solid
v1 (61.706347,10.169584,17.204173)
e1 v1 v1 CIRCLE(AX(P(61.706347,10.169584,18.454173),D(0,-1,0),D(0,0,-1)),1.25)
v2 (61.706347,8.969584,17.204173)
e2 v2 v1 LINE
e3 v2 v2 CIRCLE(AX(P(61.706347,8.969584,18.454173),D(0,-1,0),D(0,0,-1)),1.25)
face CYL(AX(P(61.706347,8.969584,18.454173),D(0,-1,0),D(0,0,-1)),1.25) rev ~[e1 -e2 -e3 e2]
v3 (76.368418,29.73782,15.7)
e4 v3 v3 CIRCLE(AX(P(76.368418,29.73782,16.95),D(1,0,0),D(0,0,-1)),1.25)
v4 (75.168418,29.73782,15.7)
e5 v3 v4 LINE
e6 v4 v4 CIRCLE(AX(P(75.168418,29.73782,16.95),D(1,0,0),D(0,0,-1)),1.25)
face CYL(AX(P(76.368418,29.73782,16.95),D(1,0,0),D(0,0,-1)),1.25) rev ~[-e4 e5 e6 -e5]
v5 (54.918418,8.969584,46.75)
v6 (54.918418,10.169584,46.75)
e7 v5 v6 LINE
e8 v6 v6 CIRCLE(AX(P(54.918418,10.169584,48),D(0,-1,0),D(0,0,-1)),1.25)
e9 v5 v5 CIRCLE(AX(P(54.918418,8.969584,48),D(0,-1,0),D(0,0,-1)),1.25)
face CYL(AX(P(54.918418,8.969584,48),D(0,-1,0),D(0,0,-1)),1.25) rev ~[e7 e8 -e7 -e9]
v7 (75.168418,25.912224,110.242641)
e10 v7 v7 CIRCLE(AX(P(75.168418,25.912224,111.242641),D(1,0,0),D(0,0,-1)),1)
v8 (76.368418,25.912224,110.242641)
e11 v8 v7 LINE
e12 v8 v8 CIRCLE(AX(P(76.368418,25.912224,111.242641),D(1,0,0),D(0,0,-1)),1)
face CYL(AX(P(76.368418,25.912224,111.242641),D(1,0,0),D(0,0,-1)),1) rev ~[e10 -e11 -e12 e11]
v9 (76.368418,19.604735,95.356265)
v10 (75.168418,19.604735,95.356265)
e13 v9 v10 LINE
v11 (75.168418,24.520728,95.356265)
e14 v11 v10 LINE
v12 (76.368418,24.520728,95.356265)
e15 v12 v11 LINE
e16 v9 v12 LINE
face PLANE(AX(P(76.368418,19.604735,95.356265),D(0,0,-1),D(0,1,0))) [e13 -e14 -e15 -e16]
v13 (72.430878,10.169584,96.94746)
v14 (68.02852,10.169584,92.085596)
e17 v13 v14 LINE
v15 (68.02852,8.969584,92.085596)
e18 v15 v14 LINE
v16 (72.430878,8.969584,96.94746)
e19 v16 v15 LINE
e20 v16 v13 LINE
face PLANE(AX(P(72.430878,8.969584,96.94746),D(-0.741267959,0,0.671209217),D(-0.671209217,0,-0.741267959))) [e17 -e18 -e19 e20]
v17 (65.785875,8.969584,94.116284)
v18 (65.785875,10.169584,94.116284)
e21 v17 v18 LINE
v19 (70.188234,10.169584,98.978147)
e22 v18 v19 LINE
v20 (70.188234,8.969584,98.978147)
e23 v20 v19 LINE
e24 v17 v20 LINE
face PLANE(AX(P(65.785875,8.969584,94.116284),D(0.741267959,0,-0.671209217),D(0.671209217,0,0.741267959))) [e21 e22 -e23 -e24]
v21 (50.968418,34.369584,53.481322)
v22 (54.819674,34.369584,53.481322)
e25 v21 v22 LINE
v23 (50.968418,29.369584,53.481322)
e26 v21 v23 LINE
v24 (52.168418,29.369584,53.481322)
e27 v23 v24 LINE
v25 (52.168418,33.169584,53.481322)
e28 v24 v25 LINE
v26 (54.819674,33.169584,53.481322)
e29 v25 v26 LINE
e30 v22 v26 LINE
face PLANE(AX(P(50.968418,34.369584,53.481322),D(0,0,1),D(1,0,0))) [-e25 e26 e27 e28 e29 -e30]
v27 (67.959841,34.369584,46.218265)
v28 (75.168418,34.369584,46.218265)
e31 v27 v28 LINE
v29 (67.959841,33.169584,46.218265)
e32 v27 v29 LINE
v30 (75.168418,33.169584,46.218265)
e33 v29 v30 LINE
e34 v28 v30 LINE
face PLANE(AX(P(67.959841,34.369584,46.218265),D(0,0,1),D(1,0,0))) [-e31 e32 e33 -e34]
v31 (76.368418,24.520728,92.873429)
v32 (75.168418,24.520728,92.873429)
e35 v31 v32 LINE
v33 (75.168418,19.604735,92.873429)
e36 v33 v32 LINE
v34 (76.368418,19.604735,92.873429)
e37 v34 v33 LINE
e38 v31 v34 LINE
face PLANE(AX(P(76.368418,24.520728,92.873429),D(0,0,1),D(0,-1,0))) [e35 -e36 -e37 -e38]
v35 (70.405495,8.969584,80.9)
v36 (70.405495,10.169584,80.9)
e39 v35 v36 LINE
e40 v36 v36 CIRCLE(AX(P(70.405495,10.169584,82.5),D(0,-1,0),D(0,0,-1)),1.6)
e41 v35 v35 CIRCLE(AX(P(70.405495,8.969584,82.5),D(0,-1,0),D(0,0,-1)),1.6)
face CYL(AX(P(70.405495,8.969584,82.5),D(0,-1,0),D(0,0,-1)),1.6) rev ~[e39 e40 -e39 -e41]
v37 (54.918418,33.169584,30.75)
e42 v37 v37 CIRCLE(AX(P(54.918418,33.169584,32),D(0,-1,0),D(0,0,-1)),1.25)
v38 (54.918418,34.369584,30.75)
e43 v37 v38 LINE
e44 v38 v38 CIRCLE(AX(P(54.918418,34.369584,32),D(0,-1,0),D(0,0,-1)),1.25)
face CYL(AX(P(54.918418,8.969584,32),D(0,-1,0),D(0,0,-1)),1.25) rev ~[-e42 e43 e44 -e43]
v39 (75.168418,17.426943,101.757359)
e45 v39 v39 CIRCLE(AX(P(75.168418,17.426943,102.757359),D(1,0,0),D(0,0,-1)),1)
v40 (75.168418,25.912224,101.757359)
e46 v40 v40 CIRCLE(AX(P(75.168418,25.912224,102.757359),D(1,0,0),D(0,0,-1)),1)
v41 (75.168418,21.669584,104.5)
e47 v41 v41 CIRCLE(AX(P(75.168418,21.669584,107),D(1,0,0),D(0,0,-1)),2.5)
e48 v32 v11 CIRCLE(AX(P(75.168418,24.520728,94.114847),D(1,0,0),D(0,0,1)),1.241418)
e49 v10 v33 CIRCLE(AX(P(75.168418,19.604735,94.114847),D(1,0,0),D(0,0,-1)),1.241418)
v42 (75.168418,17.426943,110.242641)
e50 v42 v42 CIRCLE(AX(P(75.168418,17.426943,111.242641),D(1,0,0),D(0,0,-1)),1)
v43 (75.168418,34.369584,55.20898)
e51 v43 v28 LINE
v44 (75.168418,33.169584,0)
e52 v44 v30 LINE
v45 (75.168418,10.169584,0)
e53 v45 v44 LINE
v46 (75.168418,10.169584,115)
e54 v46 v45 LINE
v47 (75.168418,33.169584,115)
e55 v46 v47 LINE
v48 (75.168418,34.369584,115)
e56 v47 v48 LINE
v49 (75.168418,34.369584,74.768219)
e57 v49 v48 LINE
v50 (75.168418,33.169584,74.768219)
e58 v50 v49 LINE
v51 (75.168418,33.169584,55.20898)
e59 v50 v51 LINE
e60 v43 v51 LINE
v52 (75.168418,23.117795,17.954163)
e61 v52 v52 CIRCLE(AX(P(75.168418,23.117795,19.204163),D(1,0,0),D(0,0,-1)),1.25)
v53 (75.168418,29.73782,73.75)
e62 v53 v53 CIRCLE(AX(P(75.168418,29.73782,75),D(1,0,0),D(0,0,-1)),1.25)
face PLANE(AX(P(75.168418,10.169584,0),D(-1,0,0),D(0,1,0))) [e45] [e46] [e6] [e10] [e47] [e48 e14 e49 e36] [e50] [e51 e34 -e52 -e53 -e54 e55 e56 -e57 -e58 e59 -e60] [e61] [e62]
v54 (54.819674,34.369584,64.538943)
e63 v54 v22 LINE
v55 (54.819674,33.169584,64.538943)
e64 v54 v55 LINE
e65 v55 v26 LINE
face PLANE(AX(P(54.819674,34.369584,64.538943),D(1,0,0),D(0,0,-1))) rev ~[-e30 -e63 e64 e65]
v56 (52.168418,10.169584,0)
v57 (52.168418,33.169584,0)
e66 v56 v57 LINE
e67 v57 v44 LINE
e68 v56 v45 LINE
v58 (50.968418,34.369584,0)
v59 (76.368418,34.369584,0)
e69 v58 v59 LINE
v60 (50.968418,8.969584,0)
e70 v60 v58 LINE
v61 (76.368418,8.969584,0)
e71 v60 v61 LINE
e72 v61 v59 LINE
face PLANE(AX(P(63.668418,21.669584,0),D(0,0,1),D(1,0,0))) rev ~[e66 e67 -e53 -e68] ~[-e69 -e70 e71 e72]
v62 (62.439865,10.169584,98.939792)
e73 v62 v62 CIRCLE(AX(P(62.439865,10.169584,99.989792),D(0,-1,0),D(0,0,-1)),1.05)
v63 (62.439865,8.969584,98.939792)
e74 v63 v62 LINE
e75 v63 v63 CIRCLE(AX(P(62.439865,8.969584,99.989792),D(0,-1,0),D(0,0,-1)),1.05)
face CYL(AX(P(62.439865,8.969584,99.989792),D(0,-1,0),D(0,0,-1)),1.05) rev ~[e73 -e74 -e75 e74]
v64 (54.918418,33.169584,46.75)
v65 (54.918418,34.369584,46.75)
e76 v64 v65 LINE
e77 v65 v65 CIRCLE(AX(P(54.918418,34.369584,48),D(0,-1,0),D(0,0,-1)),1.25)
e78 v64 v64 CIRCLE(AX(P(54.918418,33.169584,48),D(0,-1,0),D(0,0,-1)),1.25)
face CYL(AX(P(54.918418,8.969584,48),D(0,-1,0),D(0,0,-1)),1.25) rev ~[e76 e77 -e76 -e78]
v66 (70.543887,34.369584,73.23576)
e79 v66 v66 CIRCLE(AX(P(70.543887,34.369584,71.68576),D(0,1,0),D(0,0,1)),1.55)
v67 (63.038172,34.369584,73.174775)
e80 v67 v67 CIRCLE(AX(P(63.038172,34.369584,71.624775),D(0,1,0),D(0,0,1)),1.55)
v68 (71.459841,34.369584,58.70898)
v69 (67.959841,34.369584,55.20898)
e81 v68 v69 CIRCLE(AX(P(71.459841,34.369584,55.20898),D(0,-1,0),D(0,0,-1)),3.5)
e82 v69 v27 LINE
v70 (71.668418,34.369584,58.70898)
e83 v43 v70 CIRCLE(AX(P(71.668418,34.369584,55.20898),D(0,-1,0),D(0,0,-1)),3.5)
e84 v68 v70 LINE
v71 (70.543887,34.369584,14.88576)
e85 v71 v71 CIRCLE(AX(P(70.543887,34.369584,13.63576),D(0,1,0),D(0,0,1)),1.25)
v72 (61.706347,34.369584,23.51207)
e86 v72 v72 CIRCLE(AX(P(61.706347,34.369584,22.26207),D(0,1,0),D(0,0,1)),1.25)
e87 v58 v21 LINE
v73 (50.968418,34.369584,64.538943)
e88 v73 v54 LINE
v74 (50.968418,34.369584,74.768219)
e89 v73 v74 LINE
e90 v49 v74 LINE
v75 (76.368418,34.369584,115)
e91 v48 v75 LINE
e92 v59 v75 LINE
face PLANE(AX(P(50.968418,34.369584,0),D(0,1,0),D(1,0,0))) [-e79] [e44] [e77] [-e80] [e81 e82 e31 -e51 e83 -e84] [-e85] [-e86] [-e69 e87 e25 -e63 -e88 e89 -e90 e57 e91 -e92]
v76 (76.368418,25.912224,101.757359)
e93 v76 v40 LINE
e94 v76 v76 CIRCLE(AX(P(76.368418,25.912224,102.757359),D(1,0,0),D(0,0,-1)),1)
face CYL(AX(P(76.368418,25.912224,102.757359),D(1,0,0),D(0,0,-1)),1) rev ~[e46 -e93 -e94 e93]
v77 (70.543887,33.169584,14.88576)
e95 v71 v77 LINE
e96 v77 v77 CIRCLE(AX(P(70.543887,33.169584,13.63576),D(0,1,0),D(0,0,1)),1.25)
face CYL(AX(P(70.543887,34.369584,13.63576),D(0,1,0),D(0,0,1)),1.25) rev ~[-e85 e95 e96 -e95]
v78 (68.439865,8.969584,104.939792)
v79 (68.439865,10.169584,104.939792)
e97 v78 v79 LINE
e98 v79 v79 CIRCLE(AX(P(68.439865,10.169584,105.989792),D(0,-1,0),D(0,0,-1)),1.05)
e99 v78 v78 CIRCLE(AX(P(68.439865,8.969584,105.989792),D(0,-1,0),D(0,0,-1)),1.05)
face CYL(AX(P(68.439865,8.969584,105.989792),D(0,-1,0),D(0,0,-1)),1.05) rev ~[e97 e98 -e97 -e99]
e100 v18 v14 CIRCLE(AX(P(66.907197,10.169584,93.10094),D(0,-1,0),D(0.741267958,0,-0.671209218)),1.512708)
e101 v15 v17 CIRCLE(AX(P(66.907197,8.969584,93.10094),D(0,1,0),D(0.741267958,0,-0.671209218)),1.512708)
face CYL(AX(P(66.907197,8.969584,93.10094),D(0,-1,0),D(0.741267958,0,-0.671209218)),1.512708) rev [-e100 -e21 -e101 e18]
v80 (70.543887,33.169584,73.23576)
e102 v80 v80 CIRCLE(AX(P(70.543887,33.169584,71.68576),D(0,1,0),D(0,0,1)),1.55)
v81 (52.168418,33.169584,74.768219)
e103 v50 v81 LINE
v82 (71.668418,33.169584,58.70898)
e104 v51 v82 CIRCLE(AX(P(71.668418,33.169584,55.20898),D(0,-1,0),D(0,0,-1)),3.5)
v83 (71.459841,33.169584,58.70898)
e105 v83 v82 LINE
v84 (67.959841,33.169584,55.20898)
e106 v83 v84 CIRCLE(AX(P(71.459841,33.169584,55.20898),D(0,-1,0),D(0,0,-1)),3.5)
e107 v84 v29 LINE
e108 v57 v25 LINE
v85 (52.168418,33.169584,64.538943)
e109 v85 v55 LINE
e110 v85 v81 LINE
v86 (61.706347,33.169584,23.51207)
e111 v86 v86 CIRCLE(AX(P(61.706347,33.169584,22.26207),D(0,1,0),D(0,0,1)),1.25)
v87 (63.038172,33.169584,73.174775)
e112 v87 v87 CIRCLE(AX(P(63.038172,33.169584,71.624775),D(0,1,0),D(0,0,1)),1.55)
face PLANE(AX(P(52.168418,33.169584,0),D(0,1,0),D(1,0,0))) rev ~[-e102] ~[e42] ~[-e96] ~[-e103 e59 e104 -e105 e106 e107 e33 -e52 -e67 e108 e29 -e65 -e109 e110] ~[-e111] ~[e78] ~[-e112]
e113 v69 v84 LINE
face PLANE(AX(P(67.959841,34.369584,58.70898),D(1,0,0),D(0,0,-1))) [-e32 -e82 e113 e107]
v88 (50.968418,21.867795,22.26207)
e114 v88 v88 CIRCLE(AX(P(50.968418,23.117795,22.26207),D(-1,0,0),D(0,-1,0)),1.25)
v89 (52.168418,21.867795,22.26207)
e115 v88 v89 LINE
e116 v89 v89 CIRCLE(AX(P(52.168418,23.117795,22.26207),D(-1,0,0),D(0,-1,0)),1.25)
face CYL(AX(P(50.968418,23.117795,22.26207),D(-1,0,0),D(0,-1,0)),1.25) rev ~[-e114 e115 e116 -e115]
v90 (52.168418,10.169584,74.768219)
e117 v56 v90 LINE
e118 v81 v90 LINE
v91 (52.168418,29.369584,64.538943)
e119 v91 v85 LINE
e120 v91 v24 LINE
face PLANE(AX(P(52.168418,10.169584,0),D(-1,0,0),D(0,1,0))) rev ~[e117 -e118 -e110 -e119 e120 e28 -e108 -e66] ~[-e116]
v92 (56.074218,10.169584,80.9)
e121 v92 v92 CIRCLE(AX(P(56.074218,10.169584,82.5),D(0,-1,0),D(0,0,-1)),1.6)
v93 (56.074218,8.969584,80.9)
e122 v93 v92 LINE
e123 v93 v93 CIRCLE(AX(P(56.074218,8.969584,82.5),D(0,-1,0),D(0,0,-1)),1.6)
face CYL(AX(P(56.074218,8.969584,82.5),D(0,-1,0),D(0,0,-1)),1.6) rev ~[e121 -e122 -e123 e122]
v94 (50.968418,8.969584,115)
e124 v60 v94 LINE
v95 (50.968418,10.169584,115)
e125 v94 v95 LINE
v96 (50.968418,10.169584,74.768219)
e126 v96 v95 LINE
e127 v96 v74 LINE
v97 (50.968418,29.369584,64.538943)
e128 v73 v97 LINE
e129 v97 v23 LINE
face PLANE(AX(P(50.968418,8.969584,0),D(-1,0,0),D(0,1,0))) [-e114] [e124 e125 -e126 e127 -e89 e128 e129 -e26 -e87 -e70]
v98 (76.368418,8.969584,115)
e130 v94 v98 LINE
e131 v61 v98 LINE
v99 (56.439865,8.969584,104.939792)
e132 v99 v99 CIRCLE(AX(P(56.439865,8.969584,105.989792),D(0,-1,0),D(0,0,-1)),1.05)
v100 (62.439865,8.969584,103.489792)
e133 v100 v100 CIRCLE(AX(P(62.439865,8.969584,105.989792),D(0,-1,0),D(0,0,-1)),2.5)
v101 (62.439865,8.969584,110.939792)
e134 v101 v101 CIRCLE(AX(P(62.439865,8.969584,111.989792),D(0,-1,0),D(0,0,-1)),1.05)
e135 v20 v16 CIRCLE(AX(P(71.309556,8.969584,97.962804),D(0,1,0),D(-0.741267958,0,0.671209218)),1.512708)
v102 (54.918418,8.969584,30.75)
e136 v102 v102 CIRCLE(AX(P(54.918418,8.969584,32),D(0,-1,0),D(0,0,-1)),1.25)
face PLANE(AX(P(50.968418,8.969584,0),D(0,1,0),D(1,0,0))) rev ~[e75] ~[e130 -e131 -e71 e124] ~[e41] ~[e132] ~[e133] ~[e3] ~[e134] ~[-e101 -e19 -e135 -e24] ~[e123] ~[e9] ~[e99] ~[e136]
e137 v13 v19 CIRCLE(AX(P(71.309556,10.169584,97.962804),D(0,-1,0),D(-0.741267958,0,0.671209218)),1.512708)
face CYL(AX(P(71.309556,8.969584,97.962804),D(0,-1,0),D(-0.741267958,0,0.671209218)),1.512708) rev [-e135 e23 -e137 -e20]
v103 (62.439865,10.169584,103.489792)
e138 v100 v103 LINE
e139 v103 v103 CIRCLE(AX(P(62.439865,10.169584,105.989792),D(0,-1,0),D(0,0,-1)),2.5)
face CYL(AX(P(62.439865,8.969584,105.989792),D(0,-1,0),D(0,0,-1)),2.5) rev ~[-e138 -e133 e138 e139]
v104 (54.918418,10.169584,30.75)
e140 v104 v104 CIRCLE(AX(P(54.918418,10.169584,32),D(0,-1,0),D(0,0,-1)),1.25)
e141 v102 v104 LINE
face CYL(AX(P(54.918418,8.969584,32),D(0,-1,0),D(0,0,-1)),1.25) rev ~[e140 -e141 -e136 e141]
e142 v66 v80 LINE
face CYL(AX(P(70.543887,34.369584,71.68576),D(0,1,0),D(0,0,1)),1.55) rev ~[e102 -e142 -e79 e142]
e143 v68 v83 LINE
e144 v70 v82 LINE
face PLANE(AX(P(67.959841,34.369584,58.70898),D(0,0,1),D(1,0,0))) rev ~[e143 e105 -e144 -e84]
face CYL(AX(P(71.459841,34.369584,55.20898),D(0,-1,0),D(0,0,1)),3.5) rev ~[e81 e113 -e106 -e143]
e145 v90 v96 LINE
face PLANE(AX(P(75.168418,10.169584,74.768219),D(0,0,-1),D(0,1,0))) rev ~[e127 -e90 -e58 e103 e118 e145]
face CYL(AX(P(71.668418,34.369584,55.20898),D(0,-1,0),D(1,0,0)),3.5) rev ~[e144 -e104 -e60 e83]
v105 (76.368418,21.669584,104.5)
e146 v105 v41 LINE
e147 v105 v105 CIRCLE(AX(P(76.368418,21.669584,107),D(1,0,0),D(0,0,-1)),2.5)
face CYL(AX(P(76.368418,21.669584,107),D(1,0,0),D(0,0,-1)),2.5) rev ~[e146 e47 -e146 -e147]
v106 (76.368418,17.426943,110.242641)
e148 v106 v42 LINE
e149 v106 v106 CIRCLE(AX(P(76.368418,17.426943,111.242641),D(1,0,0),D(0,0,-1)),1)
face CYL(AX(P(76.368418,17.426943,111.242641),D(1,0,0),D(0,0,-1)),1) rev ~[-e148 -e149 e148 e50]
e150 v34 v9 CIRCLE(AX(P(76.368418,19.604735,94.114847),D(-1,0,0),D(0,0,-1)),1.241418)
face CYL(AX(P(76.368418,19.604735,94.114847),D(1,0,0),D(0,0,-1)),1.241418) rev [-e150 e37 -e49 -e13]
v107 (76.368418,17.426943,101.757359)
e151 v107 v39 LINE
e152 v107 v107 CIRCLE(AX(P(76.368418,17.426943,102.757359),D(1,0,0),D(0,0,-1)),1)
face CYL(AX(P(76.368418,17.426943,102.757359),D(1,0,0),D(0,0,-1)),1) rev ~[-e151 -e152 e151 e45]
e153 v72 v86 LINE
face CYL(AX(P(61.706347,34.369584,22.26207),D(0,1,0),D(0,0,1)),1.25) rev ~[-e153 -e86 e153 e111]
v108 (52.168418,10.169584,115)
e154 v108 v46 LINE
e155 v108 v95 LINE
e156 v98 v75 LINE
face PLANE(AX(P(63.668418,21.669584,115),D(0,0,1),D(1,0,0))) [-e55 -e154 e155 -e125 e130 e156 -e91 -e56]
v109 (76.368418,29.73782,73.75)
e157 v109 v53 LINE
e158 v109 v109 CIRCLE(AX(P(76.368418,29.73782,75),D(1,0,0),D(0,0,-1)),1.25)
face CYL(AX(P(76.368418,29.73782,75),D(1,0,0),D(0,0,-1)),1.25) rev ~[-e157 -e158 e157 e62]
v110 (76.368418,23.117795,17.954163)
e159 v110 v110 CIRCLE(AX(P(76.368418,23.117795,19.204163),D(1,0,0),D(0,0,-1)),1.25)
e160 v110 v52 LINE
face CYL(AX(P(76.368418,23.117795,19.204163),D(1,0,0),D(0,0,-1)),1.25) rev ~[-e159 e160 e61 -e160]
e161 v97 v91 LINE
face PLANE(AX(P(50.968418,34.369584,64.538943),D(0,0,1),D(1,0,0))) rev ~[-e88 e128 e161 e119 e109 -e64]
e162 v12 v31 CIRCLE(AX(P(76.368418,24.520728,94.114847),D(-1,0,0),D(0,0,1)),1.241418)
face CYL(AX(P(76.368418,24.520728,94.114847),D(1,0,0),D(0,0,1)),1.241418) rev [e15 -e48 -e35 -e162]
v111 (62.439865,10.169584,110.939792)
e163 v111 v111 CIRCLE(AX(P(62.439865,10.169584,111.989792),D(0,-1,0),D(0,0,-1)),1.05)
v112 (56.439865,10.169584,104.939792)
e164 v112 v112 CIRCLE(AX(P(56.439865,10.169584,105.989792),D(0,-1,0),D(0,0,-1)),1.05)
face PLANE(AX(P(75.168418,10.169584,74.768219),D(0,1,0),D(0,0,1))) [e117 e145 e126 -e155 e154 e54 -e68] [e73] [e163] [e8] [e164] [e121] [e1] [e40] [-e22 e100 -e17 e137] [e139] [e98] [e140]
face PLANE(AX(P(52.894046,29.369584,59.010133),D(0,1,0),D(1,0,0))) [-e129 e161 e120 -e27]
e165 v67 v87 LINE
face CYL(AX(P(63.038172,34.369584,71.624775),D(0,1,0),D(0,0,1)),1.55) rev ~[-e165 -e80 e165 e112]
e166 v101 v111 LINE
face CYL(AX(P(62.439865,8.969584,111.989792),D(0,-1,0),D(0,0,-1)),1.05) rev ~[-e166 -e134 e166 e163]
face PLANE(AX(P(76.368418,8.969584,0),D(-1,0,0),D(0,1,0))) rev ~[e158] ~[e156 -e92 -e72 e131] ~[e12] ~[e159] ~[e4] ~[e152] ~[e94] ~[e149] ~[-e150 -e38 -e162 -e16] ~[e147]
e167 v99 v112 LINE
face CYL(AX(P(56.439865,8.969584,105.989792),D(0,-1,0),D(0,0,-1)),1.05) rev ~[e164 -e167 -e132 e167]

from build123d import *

# Parameters (mm, degrees)
SKETCH1_W           = 25.4
SKETCH1_H           = 25.4
SKETCH1_W_2         = 23
SKETCH1_H_2         = 23
BOSS_EXTRUDE1_DEPTH = 115
CUT_EXTRUDE1_START  = -24.2
SKETCH2_W           = 40.231781255
SKETCH2_H           = 27.281754711
CUT_EXTRUDE1_DEPTH  = 24.2
SKETCH5_R           = 1
SKETCH5_R_2         = 2.5
SKETCH5_R_3         = 1.25
CUT_EXTRUDE4_DEPTH  = 10
CUT_EXTRUDE2_REACH  = 142.365
SKETCH3_R           = 1.25
SKETCH3_R_2         = 1.05
SKETCH3_R_3         = 2.5
SKETCH6_R           = 1.6
SKETCH6_R_2         = 1.25
CUT_EXTRUDE5_DEPTH  = 8
SKETCH3_3_R         = 1.25
CUT_EXTRUDE9_DEPTH  = 141.364864582
SKETCH10_R          = 1.55
SKETCH10_R_2        = 1.25
SKETCH10_W          = 7.208576747
SKETCH10_H          = 12.490715562
SKETCH10_W_2        = 3.851256807
SKETCH10_H_2        = 11.057621271
CUT_EXTRUDE10_DEPTH = 5
FILLET1_R           = 3.5
SKETCH11_R          = 1.25
CUT_EXTRUDE11_DEPTH = 8


with BuildPart() as part:
    # Sketch1 → Boss-Extrude1 (new body)
    with BuildSketch(Plane.XY):
        with Locations((63.668417616, 21.669583611)):
            Rectangle(SKETCH1_W, SKETCH1_H)
        with Locations((63.668417616, 21.669583611)):
            Rectangle(SKETCH1_W_2, SKETCH1_H_2, mode=Mode.SUBTRACT)
    extrude(amount=BOSS_EXTRUDE1_DEPTH)

    # Sketch2 → Cut-Extrude1 (cut)
    with BuildSketch(Plane.ZY.offset(-50.968417616).offset(CUT_EXTRUDE1_START)):
        with Locations((94.884109373, 23.810460967)):
            Rectangle(SKETCH2_W, SKETCH2_H)
    extrude(amount=CUT_EXTRUDE1_DEPTH, mode=Mode.SUBTRACT)

    # Sketch5 → Cut-Extrude4 (cut)
    with BuildSketch(Plane(origin=(76.368417616, 0, 0), x_dir=(0, 0, -1), z_dir=(1, 0, 0))):
        with Locations((-102.757359313, 25.912224298)):
            Circle(SKETCH5_R)
        with Locations((-111.242640687, 25.912224298)):
            Circle(SKETCH5_R)
        with Locations((-111.242640687, 17.426942923)):
            Circle(SKETCH5_R)
        with Locations((-102.757359313, 17.426942923)):
            Circle(SKETCH5_R)
        with Locations((-107, 21.669583611)):
            Circle(SKETCH5_R_2)
        with Locations((-16.95, 29.737819564)):
            Circle(SKETCH5_R_3)
        with Locations((-75, 29.737819564)):
            Circle(SKETCH5_R_3)
        with Locations((-19.204163056, 23.117794927)):
            Circle(SKETCH5_R_3)
        with BuildLine():
            Line((-95.356264863, 19.604734734), (-95.356264863, 24.520728377))
            ThreePointArc((-95.356264863, 24.520728377), (-94.114846786, 25.762146454), (-92.87342871, 24.520728377))
            Line((-92.87342871, 24.520728377), (-92.87342871, 19.604734734))
            ThreePointArc((-92.87342871, 19.604734734), (-94.114846786, 18.363316658), (-95.356264863, 19.604734734))
        make_face()
    extrude(amount=-CUT_EXTRUDE4_DEPTH, mode=Mode.SUBTRACT)

    # Sketch3 → Cut-Extrude2 (cut, up to next)
    with BuildSketch(Plane.XZ.offset(-8.969583611), mode=Mode.PRIVATE) as cut_extrude2_sk1:
        with Locations(Location((54.918417616, 32, 0), (0, 0, 270))):
            Circle(SKETCH3_R)
    cut_extrude2_tool1 = extrude(cut_extrude2_sk1.sketch, amount=-CUT_EXTRUDE2_REACH, mode=Mode.PRIVATE) & part.part
    # Sketch3 → Cut-Extrude2 (cut, up to next)
    with BuildSketch(Plane.XZ.offset(-8.969583611), mode=Mode.PRIVATE) as cut_extrude2_sk2:
        with Locations(Location((54.918417616, 48, 0), (0, 0, 270))):
            Circle(SKETCH3_R)
    cut_extrude2_tool2 = extrude(cut_extrude2_sk2.sketch, amount=-CUT_EXTRUDE2_REACH, mode=Mode.PRIVATE) & part.part
    # Sketch3 → Cut-Extrude2 (cut, up to next)
    with BuildSketch(Plane.XZ.offset(-8.969583611), mode=Mode.PRIVATE) as cut_extrude2_sk3:
        with Locations(Location((56.439865007, 105.989791795, 0), (0, 0, 270))):
            Circle(SKETCH3_R_2)
    cut_extrude2_tool3 = extrude(cut_extrude2_sk3.sketch, amount=-CUT_EXTRUDE2_REACH, mode=Mode.PRIVATE) & part.part
    # Sketch3 → Cut-Extrude2 (cut, up to next)
    with BuildSketch(Plane.XZ.offset(-8.969583611), mode=Mode.PRIVATE) as cut_extrude2_sk4:
        with Locations(Location((62.439865007, 111.989791795, 0), (0, 0, 270))):
            Circle(SKETCH3_R_2)
    cut_extrude2_tool4 = extrude(cut_extrude2_sk4.sketch, amount=-CUT_EXTRUDE2_REACH, mode=Mode.PRIVATE) & part.part
    # Sketch3 → Cut-Extrude2 (cut, up to next)
    with BuildSketch(Plane.XZ.offset(-8.969583611), mode=Mode.PRIVATE) as cut_extrude2_sk5:
        with Locations(Location((68.439865007, 105.989791795, 0), (0, 0, 270))):
            Circle(SKETCH3_R_2)
    cut_extrude2_tool5 = extrude(cut_extrude2_sk5.sketch, amount=-CUT_EXTRUDE2_REACH, mode=Mode.PRIVATE) & part.part
    # Sketch3 → Cut-Extrude2 (cut, up to next)
    with BuildSketch(Plane.XZ.offset(-8.969583611), mode=Mode.PRIVATE) as cut_extrude2_sk6:
        with Locations(Location((62.439865007, 99.989791795, 0), (0, 0, 270))):
            Circle(SKETCH3_R_2)
    cut_extrude2_tool6 = extrude(cut_extrude2_sk6.sketch, amount=-CUT_EXTRUDE2_REACH, mode=Mode.PRIVATE) & part.part
    # Sketch3 → Cut-Extrude2 (cut, up to next)
    with BuildSketch(Plane.XZ.offset(-8.969583611), mode=Mode.PRIVATE) as cut_extrude2_sk7:
        with Locations(Location((62.439865007, 105.989791795, 0), (0, 0, 270))):
            Circle(SKETCH3_R_3)
    cut_extrude2_tool7 = extrude(cut_extrude2_sk7.sketch, amount=-CUT_EXTRUDE2_REACH, mode=Mode.PRIVATE) & part.part
    # Sketch3 → Cut-Extrude2 (cut, up to next)
    with BuildSketch(Plane.XZ.offset(-8.969583611), mode=Mode.PRIVATE) as cut_extrude2_sk8:
        with BuildLine():
            Line((65.785875381, 94.116283864), (70.188234194, 98.978147268))
            ThreePointArc((70.188234194, 98.978147268), (72.324899993, 99.084125699), (72.430878425, 96.947459901))
            Line((72.430878425, 96.947459901), (68.028519611, 92.085596497))
            ThreePointArc((68.028519611, 92.085596497), (65.891853813, 91.979618066), (65.785875381, 94.116283864))
        make_face()
    cut_extrude2_tool8 = extrude(cut_extrude2_sk8.sketch, amount=-CUT_EXTRUDE2_REACH, mode=Mode.PRIVATE) & part.part
    add(cut_extrude2_tool1.solids().sort_by_distance((54.918418, 8.969584, 32))[0], mode=Mode.SUBTRACT)
    add(cut_extrude2_tool2.solids().sort_by_distance((54.918418, 8.969584, 48))[0], mode=Mode.SUBTRACT)
    add(cut_extrude2_tool3.solids().sort_by_distance((56.439865, 8.969584, 105.989792))[0], mode=Mode.SUBTRACT)
    add(cut_extrude2_tool4.solids().sort_by_distance((62.439865, 8.969584, 111.989792))[0], mode=Mode.SUBTRACT)
    add(cut_extrude2_tool5.solids().sort_by_distance((68.439865, 8.969584, 105.989792))[0], mode=Mode.SUBTRACT)
    add(cut_extrude2_tool6.solids().sort_by_distance((62.439865, 8.969584, 99.989792))[0], mode=Mode.SUBTRACT)
    add(cut_extrude2_tool7.solids().sort_by_distance((62.439865, 8.969584, 105.989792))[0], mode=Mode.SUBTRACT)
    add(cut_extrude2_tool8.solids().sort_by_distance((69.108377, 8.969584, 95.531872))[0], mode=Mode.SUBTRACT)

    # Sketch6 → Cut-Extrude5 (cut)
    with BuildSketch(Plane(origin=(0, 8.969583611, 0), x_dir=(-1, 0, 0), z_dir=(0, -1, 0))):
        with Locations(Location((-70.405494882, -82.5, 0), (0, 0, 90))):
            Circle(SKETCH6_R)
        with Locations(Location((-56.074218123, -82.5, 0), (0, 0, 90))):
            Circle(SKETCH6_R)
        with Locations(Location((-61.706346911, -18.454172536, 0), (0, 0, 90))):
            Circle(SKETCH6_R_2)
    extrude(amount=-CUT_EXTRUDE5_DEPTH, mode=Mode.SUBTRACT)

    # Sketch3<3> → Cut-Extrude9 (cut, through all)
    with BuildSketch(Plane.XZ.offset(-8.969583611)):
        with Locations(Location((54.918417616, 32, 0), (0, 0, 270))):
            Circle(SKETCH3_3_R)
        with Locations(Location((54.918417616, 48, 0), (0, 0, 270))):
            Circle(SKETCH3_3_R)
    extrude(amount=-CUT_EXTRUDE9_DEPTH, mode=Mode.SUBTRACT)

    # Sketch10 → Cut-Extrude10 (cut)
    with BuildSketch(Plane(origin=(0, 34.369583611, 0), x_dir=(1, 0, 0), z_dir=(0, 1, 0))):
        with Locations(Location((63.038171916, -71.624774794, 0), (0, 0, 270))):
            Circle(SKETCH10_R)
        with Locations(Location((70.543887237, -71.685759742, 0), (0, 0, 270))):
            Circle(SKETCH10_R)
        with Locations(Location((61.706346911, -22.262070014, 0), (0, 0, 270))):
            Circle(SKETCH10_R_2)
        with Locations(Location((70.543887237, -13.635759742, 0), (0, 0, 270))):
            Circle(SKETCH10_R_2)
        with Locations((71.564129243, -52.463622479)):
            Rectangle(SKETCH10_W, SKETCH10_H)
        with Locations((52.89404602, -59.010132705)):
            Rectangle(SKETCH10_W_2, SKETCH10_H_2)
    extrude(amount=-CUT_EXTRUDE10_DEPTH, mode=Mode.SUBTRACT)

    # Fillet1
    fillet1_edges = [part.edges().sort_by_distance(p)[0] for p in [
        (67.959840869, 33.769583611, 58.70898026),
        (75.168417616, 33.769583611, 58.70898026),
    ]]
    fillet(fillet1_edges, radius=FILLET1_R)

    # Sketch11 → Cut-Extrude11 (cut)
    with BuildSketch(Plane.ZY.offset(-50.968417616)):
        with Locations(Location((22.262070014, 23.117794927, 0), (0, 0, 270))):
            Circle(SKETCH11_R)
    extrude(amount=-CUT_EXTRUDE11_DEPTH, mode=Mode.SUBTRACT)


solid = part.part
